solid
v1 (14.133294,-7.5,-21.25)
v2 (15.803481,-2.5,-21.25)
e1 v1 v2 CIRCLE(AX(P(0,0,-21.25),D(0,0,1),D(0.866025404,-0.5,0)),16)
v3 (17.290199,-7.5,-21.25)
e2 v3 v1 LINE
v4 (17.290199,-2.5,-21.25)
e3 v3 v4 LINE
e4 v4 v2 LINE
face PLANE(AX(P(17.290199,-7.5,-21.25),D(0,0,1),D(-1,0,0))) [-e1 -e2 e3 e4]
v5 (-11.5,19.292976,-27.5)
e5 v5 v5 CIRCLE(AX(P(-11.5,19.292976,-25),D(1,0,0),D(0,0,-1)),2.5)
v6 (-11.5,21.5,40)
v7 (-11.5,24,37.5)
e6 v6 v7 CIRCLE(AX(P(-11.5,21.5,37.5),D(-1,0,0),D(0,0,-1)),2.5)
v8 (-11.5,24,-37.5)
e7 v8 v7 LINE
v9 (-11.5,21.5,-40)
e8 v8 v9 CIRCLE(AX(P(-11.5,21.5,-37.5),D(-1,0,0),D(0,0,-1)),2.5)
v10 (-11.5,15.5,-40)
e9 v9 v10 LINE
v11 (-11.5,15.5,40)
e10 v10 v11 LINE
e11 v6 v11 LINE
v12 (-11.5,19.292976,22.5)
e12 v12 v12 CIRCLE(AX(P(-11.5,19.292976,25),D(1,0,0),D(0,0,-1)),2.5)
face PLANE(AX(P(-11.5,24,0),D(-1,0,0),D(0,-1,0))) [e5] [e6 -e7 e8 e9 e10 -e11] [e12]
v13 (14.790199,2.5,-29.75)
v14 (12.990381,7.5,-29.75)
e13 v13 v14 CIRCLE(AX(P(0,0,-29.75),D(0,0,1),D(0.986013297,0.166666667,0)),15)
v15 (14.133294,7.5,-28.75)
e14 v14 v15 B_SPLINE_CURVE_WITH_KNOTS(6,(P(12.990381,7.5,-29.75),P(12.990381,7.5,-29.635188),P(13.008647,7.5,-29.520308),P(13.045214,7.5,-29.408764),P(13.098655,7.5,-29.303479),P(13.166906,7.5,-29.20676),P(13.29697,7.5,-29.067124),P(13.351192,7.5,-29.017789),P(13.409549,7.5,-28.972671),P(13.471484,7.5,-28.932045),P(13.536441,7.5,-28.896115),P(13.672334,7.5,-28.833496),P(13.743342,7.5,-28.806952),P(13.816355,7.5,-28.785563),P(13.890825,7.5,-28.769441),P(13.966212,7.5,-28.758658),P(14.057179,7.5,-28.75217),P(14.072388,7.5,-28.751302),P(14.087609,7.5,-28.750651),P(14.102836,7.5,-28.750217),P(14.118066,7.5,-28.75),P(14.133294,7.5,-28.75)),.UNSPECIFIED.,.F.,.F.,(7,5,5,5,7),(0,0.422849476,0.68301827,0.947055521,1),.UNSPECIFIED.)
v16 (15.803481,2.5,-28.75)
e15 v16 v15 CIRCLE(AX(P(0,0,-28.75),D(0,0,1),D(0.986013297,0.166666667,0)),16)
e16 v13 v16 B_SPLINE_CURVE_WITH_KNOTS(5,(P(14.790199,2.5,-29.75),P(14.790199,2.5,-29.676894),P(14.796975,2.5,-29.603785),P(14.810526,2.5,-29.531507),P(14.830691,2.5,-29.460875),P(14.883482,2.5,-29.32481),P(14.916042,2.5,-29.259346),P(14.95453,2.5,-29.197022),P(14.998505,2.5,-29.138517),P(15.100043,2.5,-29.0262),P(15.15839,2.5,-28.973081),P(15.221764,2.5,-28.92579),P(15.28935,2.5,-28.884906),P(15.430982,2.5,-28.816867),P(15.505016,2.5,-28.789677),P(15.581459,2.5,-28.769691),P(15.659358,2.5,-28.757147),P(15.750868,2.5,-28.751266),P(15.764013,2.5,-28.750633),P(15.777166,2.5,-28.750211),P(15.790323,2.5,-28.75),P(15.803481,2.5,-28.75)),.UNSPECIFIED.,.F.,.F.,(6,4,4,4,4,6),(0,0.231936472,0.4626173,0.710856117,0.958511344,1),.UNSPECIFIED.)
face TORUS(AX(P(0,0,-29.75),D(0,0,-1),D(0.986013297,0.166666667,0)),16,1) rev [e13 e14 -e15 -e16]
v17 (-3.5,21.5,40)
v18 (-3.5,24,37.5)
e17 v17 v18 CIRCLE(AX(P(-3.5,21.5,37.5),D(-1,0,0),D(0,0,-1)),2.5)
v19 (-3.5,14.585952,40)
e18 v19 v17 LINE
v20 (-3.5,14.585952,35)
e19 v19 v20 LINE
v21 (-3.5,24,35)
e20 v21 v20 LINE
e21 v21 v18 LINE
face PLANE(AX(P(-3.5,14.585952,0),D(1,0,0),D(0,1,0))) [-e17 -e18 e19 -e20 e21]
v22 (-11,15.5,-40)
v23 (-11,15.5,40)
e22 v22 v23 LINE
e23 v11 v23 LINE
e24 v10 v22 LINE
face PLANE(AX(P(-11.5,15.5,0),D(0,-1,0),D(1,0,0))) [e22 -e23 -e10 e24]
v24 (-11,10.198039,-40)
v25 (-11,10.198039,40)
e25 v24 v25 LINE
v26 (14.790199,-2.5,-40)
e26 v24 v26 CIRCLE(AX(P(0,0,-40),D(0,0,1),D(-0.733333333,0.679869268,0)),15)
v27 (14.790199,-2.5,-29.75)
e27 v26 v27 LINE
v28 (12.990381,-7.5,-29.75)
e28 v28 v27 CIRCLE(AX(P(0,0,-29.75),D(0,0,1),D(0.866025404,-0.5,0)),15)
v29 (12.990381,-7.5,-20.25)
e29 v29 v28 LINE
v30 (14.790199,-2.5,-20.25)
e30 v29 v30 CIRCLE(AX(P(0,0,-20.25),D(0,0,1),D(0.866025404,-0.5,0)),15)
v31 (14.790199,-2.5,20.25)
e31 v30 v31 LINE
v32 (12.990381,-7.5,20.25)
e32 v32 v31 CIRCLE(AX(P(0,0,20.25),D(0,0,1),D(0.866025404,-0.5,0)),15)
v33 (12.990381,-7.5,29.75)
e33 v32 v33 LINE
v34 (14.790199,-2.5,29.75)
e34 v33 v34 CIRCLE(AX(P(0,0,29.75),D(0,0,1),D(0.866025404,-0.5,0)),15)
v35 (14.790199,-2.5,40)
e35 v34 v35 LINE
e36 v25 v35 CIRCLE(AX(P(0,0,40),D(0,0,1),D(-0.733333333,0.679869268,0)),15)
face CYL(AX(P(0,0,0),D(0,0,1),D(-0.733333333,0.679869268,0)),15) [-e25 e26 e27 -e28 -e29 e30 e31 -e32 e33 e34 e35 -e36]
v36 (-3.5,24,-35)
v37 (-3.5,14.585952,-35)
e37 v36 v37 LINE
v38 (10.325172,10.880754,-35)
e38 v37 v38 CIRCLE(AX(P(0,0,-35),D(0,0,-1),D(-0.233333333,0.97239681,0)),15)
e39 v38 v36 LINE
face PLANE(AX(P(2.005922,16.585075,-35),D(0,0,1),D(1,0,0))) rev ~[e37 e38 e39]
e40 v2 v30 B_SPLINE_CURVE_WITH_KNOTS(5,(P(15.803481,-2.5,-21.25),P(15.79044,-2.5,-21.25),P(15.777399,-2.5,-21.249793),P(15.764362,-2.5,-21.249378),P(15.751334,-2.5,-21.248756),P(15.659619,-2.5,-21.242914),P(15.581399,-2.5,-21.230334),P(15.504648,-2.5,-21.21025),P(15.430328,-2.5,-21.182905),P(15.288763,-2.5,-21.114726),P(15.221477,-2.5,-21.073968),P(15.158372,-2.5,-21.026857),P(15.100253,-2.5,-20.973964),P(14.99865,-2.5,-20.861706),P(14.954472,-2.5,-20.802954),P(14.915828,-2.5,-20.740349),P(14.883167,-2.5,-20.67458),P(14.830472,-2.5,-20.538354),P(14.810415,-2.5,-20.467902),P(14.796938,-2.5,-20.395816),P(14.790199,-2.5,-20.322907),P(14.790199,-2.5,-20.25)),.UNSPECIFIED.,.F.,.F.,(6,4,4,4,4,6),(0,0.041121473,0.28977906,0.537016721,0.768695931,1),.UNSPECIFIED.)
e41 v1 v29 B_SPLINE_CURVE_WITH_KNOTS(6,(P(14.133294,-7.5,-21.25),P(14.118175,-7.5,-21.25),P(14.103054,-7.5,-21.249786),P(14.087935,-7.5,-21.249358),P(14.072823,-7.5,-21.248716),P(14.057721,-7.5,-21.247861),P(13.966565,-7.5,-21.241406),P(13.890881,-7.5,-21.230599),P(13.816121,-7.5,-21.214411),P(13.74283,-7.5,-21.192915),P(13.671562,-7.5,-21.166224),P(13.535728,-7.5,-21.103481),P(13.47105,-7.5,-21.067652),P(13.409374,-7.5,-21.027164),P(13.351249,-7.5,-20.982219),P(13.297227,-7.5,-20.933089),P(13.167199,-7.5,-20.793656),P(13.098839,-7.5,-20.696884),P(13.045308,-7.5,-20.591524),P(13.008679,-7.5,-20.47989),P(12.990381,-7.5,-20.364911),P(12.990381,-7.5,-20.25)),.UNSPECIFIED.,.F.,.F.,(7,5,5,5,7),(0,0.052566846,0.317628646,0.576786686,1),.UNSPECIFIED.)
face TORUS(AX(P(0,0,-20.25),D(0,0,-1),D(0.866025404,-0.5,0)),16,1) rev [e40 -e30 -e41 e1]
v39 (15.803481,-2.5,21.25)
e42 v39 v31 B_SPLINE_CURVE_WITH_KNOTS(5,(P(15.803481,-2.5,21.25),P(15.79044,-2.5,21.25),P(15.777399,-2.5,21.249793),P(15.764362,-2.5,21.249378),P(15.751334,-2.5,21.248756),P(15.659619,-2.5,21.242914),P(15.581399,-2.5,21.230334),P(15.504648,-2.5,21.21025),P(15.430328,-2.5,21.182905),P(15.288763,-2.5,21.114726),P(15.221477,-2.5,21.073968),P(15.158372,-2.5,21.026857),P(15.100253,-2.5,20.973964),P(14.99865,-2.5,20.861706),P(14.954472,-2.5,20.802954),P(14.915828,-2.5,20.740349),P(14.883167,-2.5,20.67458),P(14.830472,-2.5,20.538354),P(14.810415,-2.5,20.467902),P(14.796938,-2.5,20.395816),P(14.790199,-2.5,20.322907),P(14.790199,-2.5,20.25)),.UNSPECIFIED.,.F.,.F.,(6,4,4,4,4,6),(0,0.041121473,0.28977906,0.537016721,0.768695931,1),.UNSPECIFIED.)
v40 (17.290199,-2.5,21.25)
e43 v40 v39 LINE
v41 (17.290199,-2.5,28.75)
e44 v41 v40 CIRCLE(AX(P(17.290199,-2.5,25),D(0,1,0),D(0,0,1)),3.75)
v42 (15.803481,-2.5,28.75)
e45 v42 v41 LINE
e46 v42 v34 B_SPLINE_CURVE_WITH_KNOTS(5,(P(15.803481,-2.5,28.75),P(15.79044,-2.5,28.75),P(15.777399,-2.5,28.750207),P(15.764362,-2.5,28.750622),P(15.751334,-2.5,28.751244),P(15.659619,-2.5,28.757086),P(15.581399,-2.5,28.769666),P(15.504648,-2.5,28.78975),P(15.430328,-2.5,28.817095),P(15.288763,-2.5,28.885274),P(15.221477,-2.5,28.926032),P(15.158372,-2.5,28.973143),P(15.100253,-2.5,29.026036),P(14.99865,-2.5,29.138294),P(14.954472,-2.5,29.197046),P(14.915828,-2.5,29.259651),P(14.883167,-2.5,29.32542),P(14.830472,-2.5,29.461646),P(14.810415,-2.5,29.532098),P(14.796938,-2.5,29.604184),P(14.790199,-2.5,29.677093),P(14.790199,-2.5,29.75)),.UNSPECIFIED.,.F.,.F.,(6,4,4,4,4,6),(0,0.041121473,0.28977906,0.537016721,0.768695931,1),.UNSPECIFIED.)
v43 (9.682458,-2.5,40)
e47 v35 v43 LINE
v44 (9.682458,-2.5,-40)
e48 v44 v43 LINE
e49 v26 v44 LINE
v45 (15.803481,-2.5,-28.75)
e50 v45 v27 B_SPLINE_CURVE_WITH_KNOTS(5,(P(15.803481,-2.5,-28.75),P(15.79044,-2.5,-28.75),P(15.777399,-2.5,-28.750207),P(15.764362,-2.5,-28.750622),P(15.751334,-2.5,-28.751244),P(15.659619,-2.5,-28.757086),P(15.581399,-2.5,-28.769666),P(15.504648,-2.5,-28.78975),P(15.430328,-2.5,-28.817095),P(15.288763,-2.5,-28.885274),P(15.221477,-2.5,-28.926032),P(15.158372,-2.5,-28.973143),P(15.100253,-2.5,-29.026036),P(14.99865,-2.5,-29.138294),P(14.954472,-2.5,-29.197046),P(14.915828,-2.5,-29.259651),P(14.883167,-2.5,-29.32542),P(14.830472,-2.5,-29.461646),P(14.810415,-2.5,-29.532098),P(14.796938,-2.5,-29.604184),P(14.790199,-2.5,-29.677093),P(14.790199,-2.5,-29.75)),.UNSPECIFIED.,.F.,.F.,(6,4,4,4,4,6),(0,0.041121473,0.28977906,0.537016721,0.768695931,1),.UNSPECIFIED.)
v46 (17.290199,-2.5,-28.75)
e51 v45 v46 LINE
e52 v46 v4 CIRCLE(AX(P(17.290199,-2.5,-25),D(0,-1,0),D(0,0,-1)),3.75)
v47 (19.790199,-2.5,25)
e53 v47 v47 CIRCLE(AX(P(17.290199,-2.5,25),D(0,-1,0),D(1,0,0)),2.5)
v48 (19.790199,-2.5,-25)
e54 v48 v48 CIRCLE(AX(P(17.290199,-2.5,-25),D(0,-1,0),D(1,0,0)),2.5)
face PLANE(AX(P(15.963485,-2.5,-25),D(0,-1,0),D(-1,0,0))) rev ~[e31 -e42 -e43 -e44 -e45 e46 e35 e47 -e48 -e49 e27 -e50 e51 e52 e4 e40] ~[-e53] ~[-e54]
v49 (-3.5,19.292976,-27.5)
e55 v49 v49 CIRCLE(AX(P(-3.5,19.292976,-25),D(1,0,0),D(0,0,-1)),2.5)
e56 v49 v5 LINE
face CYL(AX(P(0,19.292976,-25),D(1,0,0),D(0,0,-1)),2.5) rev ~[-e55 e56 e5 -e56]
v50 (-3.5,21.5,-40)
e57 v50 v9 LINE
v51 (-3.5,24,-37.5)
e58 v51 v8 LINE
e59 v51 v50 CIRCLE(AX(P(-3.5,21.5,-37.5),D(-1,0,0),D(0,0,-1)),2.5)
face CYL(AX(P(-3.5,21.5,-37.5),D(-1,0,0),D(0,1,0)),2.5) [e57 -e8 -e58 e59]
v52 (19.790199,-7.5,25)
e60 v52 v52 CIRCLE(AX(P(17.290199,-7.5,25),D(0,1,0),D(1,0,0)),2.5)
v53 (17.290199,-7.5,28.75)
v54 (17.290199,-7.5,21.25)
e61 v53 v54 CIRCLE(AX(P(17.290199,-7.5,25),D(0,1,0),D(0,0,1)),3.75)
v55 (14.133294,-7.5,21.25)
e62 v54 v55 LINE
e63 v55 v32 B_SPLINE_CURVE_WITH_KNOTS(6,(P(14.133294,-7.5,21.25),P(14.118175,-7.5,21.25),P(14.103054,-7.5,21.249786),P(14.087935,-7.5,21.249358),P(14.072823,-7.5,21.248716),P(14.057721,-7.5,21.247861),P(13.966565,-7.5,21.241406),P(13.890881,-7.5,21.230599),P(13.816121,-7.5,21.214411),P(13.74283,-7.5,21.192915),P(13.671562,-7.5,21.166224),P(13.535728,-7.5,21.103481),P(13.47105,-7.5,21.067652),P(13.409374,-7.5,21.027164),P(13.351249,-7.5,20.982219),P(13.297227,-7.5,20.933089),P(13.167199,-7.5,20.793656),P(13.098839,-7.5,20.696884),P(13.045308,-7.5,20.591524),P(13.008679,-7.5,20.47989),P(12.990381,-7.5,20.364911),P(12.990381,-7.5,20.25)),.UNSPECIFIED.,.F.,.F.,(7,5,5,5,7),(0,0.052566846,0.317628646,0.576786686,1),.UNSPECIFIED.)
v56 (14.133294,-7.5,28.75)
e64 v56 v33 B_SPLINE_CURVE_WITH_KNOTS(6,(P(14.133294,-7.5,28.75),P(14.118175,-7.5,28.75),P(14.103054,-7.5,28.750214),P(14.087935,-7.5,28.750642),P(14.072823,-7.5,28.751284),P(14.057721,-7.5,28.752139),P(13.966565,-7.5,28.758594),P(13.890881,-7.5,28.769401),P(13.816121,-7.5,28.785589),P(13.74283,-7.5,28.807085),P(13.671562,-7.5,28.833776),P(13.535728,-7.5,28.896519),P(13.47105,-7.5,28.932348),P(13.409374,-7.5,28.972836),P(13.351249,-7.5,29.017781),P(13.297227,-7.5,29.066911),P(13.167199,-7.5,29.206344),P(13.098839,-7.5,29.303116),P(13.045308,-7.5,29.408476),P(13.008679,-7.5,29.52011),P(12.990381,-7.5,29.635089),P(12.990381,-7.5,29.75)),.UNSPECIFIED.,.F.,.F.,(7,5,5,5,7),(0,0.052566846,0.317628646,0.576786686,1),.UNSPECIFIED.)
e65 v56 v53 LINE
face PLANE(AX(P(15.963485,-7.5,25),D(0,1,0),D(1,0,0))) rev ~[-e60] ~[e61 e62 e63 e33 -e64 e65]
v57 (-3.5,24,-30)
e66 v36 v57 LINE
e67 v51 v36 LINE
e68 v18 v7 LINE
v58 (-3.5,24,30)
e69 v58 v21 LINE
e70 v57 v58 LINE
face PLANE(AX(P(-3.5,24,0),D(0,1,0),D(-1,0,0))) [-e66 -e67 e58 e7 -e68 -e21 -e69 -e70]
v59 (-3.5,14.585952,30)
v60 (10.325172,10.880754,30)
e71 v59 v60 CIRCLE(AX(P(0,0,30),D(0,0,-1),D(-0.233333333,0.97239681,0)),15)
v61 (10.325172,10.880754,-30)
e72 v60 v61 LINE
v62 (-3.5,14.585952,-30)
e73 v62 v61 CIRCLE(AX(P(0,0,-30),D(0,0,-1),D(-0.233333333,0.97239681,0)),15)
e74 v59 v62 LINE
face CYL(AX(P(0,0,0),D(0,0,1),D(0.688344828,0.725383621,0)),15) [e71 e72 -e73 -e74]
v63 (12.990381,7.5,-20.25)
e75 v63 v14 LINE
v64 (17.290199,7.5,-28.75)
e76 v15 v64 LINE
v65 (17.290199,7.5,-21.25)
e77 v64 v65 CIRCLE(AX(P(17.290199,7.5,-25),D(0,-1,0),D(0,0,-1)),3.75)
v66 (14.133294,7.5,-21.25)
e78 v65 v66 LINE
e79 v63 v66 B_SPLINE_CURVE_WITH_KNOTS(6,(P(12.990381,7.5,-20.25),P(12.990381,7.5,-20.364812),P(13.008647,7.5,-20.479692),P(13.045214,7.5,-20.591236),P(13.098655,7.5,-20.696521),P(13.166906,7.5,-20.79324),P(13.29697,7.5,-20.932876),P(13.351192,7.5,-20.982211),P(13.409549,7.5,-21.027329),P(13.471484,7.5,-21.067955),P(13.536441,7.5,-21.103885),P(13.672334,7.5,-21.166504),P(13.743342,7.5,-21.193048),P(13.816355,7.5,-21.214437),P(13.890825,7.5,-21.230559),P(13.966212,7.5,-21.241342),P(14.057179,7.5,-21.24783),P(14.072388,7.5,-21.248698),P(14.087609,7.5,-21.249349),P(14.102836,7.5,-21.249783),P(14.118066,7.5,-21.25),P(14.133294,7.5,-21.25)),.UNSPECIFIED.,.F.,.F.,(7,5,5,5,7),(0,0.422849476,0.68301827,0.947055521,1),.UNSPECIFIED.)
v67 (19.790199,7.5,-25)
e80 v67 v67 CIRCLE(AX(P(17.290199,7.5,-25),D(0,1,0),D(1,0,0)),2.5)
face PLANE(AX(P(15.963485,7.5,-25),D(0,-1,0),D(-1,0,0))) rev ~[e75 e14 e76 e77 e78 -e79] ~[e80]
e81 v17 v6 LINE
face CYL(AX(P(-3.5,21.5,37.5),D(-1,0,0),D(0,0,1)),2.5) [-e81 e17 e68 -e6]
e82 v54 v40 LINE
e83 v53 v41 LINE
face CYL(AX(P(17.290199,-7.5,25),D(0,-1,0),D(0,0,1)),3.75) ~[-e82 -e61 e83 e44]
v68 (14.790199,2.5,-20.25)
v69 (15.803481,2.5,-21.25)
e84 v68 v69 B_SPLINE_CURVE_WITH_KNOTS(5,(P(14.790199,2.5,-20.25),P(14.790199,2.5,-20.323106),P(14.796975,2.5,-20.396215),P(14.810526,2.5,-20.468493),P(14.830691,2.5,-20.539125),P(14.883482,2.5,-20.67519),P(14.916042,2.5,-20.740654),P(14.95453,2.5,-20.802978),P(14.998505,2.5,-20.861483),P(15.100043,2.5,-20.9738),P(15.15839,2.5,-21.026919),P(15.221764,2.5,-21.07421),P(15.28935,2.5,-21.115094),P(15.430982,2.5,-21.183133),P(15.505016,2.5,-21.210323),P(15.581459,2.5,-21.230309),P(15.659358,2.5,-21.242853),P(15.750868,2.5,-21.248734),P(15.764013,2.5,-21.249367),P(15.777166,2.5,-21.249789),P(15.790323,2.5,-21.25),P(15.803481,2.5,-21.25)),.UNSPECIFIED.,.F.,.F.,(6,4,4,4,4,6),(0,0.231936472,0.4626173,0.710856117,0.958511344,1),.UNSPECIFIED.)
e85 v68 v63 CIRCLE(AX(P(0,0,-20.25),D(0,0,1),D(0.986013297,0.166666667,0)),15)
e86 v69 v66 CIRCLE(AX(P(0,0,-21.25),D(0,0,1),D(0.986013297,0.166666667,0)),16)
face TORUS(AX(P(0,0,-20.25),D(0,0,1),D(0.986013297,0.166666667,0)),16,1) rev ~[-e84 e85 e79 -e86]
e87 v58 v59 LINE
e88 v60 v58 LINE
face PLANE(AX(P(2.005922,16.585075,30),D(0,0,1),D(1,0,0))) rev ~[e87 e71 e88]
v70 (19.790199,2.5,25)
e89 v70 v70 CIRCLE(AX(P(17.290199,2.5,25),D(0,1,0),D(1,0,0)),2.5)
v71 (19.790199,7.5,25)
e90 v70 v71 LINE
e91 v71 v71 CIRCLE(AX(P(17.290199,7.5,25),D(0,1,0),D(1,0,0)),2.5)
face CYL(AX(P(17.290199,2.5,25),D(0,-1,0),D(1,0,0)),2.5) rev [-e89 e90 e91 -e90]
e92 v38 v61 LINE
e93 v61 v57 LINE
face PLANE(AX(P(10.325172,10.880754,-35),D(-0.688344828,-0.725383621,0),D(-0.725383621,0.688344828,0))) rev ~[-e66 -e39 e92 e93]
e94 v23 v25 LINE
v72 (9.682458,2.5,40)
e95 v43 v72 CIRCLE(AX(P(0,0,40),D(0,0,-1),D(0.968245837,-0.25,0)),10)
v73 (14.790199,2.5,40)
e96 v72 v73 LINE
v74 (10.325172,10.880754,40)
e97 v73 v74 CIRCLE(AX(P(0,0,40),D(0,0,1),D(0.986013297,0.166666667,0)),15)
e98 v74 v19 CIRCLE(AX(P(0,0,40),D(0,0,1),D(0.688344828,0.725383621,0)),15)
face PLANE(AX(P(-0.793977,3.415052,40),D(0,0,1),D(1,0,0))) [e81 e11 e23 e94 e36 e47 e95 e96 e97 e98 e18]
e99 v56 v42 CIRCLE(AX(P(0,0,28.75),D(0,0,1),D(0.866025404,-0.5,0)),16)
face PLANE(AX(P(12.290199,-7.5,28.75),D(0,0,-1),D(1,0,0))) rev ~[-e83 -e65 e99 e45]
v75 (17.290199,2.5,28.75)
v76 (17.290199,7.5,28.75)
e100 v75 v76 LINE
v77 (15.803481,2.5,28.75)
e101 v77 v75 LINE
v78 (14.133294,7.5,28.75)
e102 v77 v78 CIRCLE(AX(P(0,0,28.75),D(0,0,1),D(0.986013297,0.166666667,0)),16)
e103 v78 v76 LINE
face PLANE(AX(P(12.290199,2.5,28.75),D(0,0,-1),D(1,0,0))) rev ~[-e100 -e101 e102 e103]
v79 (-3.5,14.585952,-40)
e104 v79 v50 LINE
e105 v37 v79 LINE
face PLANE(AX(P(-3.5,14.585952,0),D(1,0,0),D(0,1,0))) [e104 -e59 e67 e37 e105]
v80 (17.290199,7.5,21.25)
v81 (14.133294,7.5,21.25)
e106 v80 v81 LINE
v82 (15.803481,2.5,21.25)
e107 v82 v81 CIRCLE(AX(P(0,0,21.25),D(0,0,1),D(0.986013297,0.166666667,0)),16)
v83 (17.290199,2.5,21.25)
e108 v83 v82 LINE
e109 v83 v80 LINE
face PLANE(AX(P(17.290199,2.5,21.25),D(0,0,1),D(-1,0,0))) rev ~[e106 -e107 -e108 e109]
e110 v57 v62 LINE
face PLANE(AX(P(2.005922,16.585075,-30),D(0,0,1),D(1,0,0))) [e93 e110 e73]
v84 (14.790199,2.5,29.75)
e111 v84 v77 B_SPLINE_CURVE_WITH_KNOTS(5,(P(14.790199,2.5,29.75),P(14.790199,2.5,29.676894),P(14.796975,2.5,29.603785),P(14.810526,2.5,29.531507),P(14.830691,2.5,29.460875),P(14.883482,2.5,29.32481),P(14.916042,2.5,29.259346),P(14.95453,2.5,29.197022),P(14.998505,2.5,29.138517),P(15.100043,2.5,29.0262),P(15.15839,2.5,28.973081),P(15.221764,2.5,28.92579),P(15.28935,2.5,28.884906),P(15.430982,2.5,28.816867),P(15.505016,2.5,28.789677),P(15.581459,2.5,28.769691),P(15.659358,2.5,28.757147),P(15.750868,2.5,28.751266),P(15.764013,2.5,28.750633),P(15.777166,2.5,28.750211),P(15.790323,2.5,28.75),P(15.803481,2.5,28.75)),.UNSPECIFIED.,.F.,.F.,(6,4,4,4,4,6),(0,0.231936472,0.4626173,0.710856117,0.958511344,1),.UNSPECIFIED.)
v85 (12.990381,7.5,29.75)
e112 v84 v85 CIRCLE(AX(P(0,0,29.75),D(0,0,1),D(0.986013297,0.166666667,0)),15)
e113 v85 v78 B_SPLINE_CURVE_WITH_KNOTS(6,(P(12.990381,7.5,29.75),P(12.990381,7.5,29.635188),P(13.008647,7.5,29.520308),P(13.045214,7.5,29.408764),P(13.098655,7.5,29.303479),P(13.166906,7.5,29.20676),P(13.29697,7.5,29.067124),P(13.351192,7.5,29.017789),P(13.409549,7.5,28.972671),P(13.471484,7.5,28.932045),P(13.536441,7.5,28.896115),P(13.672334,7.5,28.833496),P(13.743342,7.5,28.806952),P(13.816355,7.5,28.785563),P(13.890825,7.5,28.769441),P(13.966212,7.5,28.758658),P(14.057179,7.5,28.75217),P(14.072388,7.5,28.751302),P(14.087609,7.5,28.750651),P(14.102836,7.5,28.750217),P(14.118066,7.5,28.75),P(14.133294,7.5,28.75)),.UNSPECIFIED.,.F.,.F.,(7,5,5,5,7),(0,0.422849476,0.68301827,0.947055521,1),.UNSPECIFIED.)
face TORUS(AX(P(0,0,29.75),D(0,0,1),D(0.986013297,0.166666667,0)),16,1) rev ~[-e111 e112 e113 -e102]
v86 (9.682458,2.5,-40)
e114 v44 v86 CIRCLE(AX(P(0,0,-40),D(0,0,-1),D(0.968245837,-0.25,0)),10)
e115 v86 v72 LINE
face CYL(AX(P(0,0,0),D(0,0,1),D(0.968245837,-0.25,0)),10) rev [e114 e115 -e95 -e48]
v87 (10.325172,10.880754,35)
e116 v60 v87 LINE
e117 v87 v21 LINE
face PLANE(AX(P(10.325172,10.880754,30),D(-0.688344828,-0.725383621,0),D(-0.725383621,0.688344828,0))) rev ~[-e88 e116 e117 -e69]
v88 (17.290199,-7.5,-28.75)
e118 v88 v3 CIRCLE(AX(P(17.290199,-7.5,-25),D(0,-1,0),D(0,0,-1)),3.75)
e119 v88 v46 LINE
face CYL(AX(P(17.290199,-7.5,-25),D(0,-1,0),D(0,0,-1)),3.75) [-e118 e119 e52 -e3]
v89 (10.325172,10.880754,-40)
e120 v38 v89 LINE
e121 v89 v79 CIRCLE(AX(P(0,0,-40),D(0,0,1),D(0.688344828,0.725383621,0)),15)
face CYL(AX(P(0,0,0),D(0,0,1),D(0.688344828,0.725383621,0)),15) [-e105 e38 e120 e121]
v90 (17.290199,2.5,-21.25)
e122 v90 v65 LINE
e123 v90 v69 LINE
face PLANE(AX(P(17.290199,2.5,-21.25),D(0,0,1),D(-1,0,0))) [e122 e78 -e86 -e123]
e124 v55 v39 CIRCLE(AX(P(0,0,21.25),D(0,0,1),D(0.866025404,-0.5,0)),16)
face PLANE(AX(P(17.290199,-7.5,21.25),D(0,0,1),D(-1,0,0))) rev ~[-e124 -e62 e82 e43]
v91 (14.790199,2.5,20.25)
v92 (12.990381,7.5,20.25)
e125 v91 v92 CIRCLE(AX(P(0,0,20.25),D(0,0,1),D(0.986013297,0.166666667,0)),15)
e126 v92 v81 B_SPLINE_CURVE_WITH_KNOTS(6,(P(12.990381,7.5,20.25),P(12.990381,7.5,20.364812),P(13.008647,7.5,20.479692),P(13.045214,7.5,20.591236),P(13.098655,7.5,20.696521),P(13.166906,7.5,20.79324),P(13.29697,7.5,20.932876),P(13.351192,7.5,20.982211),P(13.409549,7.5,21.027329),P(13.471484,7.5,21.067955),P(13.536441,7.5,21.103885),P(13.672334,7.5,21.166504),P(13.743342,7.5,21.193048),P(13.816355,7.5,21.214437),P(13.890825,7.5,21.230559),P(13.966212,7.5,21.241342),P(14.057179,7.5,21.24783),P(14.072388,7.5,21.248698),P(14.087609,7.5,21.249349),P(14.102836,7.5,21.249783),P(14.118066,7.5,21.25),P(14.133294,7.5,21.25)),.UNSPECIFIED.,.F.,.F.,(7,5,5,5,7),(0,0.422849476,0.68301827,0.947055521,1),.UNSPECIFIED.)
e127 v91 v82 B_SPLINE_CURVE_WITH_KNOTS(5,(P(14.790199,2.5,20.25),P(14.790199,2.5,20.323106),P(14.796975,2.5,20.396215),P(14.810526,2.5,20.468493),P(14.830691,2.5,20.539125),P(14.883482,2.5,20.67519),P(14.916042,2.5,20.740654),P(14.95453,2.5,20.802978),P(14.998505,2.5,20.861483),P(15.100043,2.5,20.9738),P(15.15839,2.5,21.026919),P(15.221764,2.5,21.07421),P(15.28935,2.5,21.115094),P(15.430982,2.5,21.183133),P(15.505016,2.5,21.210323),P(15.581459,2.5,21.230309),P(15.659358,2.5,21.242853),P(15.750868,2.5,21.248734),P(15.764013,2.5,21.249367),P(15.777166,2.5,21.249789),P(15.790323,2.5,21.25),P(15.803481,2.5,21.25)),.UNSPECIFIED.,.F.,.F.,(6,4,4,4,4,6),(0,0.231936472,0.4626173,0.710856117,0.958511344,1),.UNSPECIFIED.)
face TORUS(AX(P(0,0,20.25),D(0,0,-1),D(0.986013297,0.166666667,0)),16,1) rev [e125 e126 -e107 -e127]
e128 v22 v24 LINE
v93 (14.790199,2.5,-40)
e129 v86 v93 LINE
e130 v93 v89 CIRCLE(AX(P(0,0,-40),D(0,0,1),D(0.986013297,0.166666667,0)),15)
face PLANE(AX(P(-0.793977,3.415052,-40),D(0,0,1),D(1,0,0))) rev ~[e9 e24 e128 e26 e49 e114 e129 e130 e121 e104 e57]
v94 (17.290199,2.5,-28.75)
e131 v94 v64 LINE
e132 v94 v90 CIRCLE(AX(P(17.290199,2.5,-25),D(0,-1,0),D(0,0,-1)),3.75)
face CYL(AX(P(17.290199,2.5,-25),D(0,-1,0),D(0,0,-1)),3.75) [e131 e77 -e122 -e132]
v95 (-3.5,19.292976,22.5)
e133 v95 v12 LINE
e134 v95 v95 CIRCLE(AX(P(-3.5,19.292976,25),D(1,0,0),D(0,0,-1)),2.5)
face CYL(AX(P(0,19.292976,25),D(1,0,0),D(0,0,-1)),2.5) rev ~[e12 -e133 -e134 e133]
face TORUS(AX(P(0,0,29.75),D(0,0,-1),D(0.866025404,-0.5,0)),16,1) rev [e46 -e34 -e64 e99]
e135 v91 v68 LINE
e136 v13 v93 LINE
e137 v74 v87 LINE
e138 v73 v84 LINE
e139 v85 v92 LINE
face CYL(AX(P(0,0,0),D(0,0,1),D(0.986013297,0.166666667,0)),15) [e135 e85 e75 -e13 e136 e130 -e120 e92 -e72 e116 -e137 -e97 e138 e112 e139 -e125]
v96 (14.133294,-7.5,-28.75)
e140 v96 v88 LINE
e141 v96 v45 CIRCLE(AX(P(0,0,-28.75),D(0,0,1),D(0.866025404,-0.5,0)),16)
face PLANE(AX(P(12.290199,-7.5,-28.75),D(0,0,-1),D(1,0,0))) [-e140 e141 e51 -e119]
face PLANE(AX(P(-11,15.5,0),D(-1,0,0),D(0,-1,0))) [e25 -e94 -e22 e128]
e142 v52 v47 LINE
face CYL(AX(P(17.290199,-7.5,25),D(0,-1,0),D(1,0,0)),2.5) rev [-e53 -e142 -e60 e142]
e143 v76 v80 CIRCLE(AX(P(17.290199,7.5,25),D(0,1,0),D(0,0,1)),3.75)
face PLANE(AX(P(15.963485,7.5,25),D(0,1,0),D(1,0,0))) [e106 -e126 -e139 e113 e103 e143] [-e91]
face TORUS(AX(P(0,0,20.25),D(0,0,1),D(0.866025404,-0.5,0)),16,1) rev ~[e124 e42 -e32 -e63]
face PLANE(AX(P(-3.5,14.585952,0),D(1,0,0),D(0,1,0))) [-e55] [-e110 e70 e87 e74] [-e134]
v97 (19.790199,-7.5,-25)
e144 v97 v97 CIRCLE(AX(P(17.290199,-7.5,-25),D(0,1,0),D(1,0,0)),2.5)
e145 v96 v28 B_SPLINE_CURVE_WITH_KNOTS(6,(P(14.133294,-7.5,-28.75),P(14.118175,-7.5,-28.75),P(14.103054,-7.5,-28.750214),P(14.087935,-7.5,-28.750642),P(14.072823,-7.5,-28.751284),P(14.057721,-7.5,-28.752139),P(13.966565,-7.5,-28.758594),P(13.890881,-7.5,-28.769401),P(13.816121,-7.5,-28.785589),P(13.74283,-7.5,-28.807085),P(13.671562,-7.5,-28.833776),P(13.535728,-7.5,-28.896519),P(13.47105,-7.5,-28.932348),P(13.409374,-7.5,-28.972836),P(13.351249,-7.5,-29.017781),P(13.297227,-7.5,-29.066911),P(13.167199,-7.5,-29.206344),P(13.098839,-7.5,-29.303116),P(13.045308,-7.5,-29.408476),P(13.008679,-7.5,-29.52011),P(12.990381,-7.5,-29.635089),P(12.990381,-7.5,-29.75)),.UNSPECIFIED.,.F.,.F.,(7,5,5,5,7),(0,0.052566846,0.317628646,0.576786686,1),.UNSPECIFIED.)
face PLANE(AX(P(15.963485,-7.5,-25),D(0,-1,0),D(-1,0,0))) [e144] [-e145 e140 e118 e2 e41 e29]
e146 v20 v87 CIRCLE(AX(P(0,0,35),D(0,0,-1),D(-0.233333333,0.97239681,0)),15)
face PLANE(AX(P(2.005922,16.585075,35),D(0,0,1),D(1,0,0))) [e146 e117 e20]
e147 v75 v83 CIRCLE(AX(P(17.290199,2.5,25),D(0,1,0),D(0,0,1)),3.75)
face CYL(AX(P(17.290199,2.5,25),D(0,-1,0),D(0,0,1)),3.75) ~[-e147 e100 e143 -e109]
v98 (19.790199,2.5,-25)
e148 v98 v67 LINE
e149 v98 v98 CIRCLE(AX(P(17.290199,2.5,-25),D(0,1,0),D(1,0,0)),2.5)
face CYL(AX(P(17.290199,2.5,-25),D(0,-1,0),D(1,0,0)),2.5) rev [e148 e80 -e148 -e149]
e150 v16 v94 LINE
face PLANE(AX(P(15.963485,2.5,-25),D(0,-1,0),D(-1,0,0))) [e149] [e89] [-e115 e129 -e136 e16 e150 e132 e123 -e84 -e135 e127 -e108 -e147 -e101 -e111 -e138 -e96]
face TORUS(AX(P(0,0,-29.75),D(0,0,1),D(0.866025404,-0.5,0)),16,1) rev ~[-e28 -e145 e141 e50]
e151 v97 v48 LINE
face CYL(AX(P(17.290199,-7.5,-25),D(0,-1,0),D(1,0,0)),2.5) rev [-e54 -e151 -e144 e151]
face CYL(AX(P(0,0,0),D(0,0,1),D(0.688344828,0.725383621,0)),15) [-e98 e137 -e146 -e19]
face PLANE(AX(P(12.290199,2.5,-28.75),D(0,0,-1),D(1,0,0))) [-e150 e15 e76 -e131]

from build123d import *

# Parameters (mm, degrees)
BOSS_EXTRUDE1_DEPTH = 40
BOSS_EXTRUDE2_START = 30
BOSS_EXTRUDE2_DEPTH = 5
BOSS_EXTRUDE3_START = -35
BOSS_EXTRUDE3_DEPTH = 5
SKETCH2_R           = 2.5
CUT_EXTRUDE1_DEPTH  = 15
BOSS_EXTRUDE4_START = 2.5
SKETCH4_R           = 2.5
BOSS_EXTRUDE4_DEPTH = 5
BOSS_EXTRUDE5_START = -7.5
SKETCH4_2_R         = 2.5
BOSS_EXTRUDE5_DEPTH = 5
FILLET1_R           = 1
FILLET2_R           = 2.5


with BuildPart() as part:
    # Sketch1 → Boss-Extrude1 (new, symmetric)
    with BuildSketch(Plane.XY):
        with BuildLine():
            Line((-3.5, 14.585952146), (-3.5, 24))
            Line((-3.5, 24), (-11, 24))
            Line((-11, 24), (-11.5, 24))
            Line((-11.5, 24), (-11.5, 15.5))
            Line((-11.5, 15.5), (-11, 15.5))
            Line((-11, 15.5), (-11, 10.198039027))
            ThreePointArc((-11, 10.198039027), (-6.625817064, -13.457286065), (14.790199458, -2.5))
            Line((14.790199458, -2.5), (9.682458366, -2.5))
            ThreePointArc((9.682458366, -2.5), (-10, 0), (9.682458366, 2.5))
            Line((9.682458366, 2.5), (14.790199458, 2.5))
            ThreePointArc((14.790199458, 2.5), (13.238381204, 7.053032191), (10.325172425, 10.880754312))
            ThreePointArc((10.325172425, 10.880754312), (3.883022973, 14.488689816), (-3.5, 14.585952146))
        make_face()
    extrude(amount=BOSS_EXTRUDE1_DEPTH, both=True)

    # Sketch1<3> → Boss-Extrude2 (add)
    with BuildSketch(Plane.XY.offset(BOSS_EXTRUDE2_START)):
        with BuildLine():
            Line((10.325172425, 10.880754312), (-3.5, 24))
            Line((-3.5, 24), (-3.5, 14.585952146))
            ThreePointArc((-3.5, 14.585952146), (3.883022973, 14.488689816), (10.325172425, 10.880754312))
        make_face()
    extrude(amount=BOSS_EXTRUDE2_DEPTH)

    # Sketch1<4> → Boss-Extrude3 (add)
    with BuildSketch(Plane.XY.offset(BOSS_EXTRUDE3_START)):
        with BuildLine():
            Line((10.325172425, 10.880754312), (-3.5, 24))
            Line((-3.5, 24), (-3.5, 14.585952146))
            ThreePointArc((-3.5, 14.585952146), (3.883022973, 14.488689816), (10.325172425, 10.880754312))
        make_face()
    extrude(amount=BOSS_EXTRUDE3_DEPTH)

    # Sketch2 → Cut-Extrude1 (cut)
    with BuildSketch(Plane(origin=(0, 0, 0), x_dir=(0, 0, -1), z_dir=(1, 0, 0))):
        with Locations((-25, 19.292976073)):
            Circle(SKETCH2_R)
        with Locations((25, 19.292976073)):
            Circle(SKETCH2_R)
    extrude(amount=-CUT_EXTRUDE1_DEPTH, mode=Mode.SUBTRACT)

    # Sketch4 → Boss-Extrude4 (add)
    # profile 1 of 2: a face of its own
    with BuildSketch(Plane(origin=(0, 0, 0), x_dir=(1, 0, 0), z_dir=(0, 1, 0)).offset(BOSS_EXTRUDE4_START)):
        with BuildLine():
            Line((17.290199458, 21.25), (12.290199458, 21.25))
            Line((12.290199458, 21.25), (12.290199458, 28.75))
            Line((12.290199458, 28.75), (17.290199458, 28.75))
            ThreePointArc((17.290199458, 28.75), (21.040199458, 25), (17.290199458, 21.25))
        make_face()
        with Locations((17.290199458, 25)):
            Circle(SKETCH4_R, mode=Mode.SUBTRACT)
    # profile 2 of 2: a face of its own
    with BuildSketch(Plane(origin=(0, 0, 0), x_dir=(1, 0, 0), z_dir=(0, 1, 0)).offset(BOSS_EXTRUDE4_START)):
        with BuildLine():
            Line((12.290199458, -28.75), (17.290199458, -28.75))
            ThreePointArc((17.290199458, -28.75), (21.040199458, -25), (17.290199458, -21.25))
            Line((17.290199458, -21.25), (12.290199458, -21.25))
            Line((12.290199458, -21.25), (12.290199458, -28.75))
        make_face()
        with Locations((17.290199458, -25)):
            Circle(SKETCH4_R, mode=Mode.SUBTRACT)
    extrude(amount=BOSS_EXTRUDE4_DEPTH)

    # Sketch4<2> → Boss-Extrude5 (add)
    # profile 1 of 2: a face of its own
    with BuildSketch(Plane(origin=(0, 0, 0), x_dir=(1, 0, 0), z_dir=(0, 1, 0)).offset(BOSS_EXTRUDE5_START)):
        with BuildLine():
            Line((17.290199458, 21.25), (12.290199458, 21.25))
            Line((12.290199458, 21.25), (12.290199458, 28.75))
            Line((12.290199458, 28.75), (17.290199458, 28.75))
            ThreePointArc((17.290199458, 28.75), (21.040199458, 25), (17.290199458, 21.25))
        make_face()
        with Locations((17.290199458, 25)):
            Circle(SKETCH4_2_R, mode=Mode.SUBTRACT)
    # profile 2 of 2: a face of its own
    with BuildSketch(Plane(origin=(0, 0, 0), x_dir=(1, 0, 0), z_dir=(0, 1, 0)).offset(BOSS_EXTRUDE5_START)):
        with BuildLine():
            Line((12.290199458, -28.75), (17.290199458, -28.75))
            ThreePointArc((17.290199458, -28.75), (21.040199458, -25), (17.290199458, -21.25))
            Line((17.290199458, -21.25), (12.290199458, -21.25))
            Line((12.290199458, -21.25), (12.290199458, -28.75))
        make_face()
        with Locations((17.290199458, -25)):
            Circle(SKETCH4_2_R, mode=Mode.SUBTRACT)
    extrude(amount=BOSS_EXTRUDE5_DEPTH)

    # Fillet1
    fillet1_edges = [part.edges().sort_by_distance(p)[0] for p in [
        (14.113474534, 5.080338234, 21.25),
        (14.113474534, 5.080338234, 28.75),
        (14.113474534, -5.080338234, -28.75),
        (14.113474534, 5.080338234, -28.75),
        (14.113474534, -5.080338234, 21.25),
        (14.113474534, -5.080338234, 28.75),
        (14.113474534, -5.080338234, -21.25),
        (14.113474534, 5.080338234, -21.25),
    ]]
    fillet(fillet1_edges, radius=FILLET1_R)

    # Fillet2
    fillet2_edges = [part.edges().sort_by_distance(p)[0] for p in [
        (-7.5, 24, -40),
        (-7.5, 24, 40),
    ]]
    fillet(fillet2_edges, radius=FILLET2_R)


solid = part.part
